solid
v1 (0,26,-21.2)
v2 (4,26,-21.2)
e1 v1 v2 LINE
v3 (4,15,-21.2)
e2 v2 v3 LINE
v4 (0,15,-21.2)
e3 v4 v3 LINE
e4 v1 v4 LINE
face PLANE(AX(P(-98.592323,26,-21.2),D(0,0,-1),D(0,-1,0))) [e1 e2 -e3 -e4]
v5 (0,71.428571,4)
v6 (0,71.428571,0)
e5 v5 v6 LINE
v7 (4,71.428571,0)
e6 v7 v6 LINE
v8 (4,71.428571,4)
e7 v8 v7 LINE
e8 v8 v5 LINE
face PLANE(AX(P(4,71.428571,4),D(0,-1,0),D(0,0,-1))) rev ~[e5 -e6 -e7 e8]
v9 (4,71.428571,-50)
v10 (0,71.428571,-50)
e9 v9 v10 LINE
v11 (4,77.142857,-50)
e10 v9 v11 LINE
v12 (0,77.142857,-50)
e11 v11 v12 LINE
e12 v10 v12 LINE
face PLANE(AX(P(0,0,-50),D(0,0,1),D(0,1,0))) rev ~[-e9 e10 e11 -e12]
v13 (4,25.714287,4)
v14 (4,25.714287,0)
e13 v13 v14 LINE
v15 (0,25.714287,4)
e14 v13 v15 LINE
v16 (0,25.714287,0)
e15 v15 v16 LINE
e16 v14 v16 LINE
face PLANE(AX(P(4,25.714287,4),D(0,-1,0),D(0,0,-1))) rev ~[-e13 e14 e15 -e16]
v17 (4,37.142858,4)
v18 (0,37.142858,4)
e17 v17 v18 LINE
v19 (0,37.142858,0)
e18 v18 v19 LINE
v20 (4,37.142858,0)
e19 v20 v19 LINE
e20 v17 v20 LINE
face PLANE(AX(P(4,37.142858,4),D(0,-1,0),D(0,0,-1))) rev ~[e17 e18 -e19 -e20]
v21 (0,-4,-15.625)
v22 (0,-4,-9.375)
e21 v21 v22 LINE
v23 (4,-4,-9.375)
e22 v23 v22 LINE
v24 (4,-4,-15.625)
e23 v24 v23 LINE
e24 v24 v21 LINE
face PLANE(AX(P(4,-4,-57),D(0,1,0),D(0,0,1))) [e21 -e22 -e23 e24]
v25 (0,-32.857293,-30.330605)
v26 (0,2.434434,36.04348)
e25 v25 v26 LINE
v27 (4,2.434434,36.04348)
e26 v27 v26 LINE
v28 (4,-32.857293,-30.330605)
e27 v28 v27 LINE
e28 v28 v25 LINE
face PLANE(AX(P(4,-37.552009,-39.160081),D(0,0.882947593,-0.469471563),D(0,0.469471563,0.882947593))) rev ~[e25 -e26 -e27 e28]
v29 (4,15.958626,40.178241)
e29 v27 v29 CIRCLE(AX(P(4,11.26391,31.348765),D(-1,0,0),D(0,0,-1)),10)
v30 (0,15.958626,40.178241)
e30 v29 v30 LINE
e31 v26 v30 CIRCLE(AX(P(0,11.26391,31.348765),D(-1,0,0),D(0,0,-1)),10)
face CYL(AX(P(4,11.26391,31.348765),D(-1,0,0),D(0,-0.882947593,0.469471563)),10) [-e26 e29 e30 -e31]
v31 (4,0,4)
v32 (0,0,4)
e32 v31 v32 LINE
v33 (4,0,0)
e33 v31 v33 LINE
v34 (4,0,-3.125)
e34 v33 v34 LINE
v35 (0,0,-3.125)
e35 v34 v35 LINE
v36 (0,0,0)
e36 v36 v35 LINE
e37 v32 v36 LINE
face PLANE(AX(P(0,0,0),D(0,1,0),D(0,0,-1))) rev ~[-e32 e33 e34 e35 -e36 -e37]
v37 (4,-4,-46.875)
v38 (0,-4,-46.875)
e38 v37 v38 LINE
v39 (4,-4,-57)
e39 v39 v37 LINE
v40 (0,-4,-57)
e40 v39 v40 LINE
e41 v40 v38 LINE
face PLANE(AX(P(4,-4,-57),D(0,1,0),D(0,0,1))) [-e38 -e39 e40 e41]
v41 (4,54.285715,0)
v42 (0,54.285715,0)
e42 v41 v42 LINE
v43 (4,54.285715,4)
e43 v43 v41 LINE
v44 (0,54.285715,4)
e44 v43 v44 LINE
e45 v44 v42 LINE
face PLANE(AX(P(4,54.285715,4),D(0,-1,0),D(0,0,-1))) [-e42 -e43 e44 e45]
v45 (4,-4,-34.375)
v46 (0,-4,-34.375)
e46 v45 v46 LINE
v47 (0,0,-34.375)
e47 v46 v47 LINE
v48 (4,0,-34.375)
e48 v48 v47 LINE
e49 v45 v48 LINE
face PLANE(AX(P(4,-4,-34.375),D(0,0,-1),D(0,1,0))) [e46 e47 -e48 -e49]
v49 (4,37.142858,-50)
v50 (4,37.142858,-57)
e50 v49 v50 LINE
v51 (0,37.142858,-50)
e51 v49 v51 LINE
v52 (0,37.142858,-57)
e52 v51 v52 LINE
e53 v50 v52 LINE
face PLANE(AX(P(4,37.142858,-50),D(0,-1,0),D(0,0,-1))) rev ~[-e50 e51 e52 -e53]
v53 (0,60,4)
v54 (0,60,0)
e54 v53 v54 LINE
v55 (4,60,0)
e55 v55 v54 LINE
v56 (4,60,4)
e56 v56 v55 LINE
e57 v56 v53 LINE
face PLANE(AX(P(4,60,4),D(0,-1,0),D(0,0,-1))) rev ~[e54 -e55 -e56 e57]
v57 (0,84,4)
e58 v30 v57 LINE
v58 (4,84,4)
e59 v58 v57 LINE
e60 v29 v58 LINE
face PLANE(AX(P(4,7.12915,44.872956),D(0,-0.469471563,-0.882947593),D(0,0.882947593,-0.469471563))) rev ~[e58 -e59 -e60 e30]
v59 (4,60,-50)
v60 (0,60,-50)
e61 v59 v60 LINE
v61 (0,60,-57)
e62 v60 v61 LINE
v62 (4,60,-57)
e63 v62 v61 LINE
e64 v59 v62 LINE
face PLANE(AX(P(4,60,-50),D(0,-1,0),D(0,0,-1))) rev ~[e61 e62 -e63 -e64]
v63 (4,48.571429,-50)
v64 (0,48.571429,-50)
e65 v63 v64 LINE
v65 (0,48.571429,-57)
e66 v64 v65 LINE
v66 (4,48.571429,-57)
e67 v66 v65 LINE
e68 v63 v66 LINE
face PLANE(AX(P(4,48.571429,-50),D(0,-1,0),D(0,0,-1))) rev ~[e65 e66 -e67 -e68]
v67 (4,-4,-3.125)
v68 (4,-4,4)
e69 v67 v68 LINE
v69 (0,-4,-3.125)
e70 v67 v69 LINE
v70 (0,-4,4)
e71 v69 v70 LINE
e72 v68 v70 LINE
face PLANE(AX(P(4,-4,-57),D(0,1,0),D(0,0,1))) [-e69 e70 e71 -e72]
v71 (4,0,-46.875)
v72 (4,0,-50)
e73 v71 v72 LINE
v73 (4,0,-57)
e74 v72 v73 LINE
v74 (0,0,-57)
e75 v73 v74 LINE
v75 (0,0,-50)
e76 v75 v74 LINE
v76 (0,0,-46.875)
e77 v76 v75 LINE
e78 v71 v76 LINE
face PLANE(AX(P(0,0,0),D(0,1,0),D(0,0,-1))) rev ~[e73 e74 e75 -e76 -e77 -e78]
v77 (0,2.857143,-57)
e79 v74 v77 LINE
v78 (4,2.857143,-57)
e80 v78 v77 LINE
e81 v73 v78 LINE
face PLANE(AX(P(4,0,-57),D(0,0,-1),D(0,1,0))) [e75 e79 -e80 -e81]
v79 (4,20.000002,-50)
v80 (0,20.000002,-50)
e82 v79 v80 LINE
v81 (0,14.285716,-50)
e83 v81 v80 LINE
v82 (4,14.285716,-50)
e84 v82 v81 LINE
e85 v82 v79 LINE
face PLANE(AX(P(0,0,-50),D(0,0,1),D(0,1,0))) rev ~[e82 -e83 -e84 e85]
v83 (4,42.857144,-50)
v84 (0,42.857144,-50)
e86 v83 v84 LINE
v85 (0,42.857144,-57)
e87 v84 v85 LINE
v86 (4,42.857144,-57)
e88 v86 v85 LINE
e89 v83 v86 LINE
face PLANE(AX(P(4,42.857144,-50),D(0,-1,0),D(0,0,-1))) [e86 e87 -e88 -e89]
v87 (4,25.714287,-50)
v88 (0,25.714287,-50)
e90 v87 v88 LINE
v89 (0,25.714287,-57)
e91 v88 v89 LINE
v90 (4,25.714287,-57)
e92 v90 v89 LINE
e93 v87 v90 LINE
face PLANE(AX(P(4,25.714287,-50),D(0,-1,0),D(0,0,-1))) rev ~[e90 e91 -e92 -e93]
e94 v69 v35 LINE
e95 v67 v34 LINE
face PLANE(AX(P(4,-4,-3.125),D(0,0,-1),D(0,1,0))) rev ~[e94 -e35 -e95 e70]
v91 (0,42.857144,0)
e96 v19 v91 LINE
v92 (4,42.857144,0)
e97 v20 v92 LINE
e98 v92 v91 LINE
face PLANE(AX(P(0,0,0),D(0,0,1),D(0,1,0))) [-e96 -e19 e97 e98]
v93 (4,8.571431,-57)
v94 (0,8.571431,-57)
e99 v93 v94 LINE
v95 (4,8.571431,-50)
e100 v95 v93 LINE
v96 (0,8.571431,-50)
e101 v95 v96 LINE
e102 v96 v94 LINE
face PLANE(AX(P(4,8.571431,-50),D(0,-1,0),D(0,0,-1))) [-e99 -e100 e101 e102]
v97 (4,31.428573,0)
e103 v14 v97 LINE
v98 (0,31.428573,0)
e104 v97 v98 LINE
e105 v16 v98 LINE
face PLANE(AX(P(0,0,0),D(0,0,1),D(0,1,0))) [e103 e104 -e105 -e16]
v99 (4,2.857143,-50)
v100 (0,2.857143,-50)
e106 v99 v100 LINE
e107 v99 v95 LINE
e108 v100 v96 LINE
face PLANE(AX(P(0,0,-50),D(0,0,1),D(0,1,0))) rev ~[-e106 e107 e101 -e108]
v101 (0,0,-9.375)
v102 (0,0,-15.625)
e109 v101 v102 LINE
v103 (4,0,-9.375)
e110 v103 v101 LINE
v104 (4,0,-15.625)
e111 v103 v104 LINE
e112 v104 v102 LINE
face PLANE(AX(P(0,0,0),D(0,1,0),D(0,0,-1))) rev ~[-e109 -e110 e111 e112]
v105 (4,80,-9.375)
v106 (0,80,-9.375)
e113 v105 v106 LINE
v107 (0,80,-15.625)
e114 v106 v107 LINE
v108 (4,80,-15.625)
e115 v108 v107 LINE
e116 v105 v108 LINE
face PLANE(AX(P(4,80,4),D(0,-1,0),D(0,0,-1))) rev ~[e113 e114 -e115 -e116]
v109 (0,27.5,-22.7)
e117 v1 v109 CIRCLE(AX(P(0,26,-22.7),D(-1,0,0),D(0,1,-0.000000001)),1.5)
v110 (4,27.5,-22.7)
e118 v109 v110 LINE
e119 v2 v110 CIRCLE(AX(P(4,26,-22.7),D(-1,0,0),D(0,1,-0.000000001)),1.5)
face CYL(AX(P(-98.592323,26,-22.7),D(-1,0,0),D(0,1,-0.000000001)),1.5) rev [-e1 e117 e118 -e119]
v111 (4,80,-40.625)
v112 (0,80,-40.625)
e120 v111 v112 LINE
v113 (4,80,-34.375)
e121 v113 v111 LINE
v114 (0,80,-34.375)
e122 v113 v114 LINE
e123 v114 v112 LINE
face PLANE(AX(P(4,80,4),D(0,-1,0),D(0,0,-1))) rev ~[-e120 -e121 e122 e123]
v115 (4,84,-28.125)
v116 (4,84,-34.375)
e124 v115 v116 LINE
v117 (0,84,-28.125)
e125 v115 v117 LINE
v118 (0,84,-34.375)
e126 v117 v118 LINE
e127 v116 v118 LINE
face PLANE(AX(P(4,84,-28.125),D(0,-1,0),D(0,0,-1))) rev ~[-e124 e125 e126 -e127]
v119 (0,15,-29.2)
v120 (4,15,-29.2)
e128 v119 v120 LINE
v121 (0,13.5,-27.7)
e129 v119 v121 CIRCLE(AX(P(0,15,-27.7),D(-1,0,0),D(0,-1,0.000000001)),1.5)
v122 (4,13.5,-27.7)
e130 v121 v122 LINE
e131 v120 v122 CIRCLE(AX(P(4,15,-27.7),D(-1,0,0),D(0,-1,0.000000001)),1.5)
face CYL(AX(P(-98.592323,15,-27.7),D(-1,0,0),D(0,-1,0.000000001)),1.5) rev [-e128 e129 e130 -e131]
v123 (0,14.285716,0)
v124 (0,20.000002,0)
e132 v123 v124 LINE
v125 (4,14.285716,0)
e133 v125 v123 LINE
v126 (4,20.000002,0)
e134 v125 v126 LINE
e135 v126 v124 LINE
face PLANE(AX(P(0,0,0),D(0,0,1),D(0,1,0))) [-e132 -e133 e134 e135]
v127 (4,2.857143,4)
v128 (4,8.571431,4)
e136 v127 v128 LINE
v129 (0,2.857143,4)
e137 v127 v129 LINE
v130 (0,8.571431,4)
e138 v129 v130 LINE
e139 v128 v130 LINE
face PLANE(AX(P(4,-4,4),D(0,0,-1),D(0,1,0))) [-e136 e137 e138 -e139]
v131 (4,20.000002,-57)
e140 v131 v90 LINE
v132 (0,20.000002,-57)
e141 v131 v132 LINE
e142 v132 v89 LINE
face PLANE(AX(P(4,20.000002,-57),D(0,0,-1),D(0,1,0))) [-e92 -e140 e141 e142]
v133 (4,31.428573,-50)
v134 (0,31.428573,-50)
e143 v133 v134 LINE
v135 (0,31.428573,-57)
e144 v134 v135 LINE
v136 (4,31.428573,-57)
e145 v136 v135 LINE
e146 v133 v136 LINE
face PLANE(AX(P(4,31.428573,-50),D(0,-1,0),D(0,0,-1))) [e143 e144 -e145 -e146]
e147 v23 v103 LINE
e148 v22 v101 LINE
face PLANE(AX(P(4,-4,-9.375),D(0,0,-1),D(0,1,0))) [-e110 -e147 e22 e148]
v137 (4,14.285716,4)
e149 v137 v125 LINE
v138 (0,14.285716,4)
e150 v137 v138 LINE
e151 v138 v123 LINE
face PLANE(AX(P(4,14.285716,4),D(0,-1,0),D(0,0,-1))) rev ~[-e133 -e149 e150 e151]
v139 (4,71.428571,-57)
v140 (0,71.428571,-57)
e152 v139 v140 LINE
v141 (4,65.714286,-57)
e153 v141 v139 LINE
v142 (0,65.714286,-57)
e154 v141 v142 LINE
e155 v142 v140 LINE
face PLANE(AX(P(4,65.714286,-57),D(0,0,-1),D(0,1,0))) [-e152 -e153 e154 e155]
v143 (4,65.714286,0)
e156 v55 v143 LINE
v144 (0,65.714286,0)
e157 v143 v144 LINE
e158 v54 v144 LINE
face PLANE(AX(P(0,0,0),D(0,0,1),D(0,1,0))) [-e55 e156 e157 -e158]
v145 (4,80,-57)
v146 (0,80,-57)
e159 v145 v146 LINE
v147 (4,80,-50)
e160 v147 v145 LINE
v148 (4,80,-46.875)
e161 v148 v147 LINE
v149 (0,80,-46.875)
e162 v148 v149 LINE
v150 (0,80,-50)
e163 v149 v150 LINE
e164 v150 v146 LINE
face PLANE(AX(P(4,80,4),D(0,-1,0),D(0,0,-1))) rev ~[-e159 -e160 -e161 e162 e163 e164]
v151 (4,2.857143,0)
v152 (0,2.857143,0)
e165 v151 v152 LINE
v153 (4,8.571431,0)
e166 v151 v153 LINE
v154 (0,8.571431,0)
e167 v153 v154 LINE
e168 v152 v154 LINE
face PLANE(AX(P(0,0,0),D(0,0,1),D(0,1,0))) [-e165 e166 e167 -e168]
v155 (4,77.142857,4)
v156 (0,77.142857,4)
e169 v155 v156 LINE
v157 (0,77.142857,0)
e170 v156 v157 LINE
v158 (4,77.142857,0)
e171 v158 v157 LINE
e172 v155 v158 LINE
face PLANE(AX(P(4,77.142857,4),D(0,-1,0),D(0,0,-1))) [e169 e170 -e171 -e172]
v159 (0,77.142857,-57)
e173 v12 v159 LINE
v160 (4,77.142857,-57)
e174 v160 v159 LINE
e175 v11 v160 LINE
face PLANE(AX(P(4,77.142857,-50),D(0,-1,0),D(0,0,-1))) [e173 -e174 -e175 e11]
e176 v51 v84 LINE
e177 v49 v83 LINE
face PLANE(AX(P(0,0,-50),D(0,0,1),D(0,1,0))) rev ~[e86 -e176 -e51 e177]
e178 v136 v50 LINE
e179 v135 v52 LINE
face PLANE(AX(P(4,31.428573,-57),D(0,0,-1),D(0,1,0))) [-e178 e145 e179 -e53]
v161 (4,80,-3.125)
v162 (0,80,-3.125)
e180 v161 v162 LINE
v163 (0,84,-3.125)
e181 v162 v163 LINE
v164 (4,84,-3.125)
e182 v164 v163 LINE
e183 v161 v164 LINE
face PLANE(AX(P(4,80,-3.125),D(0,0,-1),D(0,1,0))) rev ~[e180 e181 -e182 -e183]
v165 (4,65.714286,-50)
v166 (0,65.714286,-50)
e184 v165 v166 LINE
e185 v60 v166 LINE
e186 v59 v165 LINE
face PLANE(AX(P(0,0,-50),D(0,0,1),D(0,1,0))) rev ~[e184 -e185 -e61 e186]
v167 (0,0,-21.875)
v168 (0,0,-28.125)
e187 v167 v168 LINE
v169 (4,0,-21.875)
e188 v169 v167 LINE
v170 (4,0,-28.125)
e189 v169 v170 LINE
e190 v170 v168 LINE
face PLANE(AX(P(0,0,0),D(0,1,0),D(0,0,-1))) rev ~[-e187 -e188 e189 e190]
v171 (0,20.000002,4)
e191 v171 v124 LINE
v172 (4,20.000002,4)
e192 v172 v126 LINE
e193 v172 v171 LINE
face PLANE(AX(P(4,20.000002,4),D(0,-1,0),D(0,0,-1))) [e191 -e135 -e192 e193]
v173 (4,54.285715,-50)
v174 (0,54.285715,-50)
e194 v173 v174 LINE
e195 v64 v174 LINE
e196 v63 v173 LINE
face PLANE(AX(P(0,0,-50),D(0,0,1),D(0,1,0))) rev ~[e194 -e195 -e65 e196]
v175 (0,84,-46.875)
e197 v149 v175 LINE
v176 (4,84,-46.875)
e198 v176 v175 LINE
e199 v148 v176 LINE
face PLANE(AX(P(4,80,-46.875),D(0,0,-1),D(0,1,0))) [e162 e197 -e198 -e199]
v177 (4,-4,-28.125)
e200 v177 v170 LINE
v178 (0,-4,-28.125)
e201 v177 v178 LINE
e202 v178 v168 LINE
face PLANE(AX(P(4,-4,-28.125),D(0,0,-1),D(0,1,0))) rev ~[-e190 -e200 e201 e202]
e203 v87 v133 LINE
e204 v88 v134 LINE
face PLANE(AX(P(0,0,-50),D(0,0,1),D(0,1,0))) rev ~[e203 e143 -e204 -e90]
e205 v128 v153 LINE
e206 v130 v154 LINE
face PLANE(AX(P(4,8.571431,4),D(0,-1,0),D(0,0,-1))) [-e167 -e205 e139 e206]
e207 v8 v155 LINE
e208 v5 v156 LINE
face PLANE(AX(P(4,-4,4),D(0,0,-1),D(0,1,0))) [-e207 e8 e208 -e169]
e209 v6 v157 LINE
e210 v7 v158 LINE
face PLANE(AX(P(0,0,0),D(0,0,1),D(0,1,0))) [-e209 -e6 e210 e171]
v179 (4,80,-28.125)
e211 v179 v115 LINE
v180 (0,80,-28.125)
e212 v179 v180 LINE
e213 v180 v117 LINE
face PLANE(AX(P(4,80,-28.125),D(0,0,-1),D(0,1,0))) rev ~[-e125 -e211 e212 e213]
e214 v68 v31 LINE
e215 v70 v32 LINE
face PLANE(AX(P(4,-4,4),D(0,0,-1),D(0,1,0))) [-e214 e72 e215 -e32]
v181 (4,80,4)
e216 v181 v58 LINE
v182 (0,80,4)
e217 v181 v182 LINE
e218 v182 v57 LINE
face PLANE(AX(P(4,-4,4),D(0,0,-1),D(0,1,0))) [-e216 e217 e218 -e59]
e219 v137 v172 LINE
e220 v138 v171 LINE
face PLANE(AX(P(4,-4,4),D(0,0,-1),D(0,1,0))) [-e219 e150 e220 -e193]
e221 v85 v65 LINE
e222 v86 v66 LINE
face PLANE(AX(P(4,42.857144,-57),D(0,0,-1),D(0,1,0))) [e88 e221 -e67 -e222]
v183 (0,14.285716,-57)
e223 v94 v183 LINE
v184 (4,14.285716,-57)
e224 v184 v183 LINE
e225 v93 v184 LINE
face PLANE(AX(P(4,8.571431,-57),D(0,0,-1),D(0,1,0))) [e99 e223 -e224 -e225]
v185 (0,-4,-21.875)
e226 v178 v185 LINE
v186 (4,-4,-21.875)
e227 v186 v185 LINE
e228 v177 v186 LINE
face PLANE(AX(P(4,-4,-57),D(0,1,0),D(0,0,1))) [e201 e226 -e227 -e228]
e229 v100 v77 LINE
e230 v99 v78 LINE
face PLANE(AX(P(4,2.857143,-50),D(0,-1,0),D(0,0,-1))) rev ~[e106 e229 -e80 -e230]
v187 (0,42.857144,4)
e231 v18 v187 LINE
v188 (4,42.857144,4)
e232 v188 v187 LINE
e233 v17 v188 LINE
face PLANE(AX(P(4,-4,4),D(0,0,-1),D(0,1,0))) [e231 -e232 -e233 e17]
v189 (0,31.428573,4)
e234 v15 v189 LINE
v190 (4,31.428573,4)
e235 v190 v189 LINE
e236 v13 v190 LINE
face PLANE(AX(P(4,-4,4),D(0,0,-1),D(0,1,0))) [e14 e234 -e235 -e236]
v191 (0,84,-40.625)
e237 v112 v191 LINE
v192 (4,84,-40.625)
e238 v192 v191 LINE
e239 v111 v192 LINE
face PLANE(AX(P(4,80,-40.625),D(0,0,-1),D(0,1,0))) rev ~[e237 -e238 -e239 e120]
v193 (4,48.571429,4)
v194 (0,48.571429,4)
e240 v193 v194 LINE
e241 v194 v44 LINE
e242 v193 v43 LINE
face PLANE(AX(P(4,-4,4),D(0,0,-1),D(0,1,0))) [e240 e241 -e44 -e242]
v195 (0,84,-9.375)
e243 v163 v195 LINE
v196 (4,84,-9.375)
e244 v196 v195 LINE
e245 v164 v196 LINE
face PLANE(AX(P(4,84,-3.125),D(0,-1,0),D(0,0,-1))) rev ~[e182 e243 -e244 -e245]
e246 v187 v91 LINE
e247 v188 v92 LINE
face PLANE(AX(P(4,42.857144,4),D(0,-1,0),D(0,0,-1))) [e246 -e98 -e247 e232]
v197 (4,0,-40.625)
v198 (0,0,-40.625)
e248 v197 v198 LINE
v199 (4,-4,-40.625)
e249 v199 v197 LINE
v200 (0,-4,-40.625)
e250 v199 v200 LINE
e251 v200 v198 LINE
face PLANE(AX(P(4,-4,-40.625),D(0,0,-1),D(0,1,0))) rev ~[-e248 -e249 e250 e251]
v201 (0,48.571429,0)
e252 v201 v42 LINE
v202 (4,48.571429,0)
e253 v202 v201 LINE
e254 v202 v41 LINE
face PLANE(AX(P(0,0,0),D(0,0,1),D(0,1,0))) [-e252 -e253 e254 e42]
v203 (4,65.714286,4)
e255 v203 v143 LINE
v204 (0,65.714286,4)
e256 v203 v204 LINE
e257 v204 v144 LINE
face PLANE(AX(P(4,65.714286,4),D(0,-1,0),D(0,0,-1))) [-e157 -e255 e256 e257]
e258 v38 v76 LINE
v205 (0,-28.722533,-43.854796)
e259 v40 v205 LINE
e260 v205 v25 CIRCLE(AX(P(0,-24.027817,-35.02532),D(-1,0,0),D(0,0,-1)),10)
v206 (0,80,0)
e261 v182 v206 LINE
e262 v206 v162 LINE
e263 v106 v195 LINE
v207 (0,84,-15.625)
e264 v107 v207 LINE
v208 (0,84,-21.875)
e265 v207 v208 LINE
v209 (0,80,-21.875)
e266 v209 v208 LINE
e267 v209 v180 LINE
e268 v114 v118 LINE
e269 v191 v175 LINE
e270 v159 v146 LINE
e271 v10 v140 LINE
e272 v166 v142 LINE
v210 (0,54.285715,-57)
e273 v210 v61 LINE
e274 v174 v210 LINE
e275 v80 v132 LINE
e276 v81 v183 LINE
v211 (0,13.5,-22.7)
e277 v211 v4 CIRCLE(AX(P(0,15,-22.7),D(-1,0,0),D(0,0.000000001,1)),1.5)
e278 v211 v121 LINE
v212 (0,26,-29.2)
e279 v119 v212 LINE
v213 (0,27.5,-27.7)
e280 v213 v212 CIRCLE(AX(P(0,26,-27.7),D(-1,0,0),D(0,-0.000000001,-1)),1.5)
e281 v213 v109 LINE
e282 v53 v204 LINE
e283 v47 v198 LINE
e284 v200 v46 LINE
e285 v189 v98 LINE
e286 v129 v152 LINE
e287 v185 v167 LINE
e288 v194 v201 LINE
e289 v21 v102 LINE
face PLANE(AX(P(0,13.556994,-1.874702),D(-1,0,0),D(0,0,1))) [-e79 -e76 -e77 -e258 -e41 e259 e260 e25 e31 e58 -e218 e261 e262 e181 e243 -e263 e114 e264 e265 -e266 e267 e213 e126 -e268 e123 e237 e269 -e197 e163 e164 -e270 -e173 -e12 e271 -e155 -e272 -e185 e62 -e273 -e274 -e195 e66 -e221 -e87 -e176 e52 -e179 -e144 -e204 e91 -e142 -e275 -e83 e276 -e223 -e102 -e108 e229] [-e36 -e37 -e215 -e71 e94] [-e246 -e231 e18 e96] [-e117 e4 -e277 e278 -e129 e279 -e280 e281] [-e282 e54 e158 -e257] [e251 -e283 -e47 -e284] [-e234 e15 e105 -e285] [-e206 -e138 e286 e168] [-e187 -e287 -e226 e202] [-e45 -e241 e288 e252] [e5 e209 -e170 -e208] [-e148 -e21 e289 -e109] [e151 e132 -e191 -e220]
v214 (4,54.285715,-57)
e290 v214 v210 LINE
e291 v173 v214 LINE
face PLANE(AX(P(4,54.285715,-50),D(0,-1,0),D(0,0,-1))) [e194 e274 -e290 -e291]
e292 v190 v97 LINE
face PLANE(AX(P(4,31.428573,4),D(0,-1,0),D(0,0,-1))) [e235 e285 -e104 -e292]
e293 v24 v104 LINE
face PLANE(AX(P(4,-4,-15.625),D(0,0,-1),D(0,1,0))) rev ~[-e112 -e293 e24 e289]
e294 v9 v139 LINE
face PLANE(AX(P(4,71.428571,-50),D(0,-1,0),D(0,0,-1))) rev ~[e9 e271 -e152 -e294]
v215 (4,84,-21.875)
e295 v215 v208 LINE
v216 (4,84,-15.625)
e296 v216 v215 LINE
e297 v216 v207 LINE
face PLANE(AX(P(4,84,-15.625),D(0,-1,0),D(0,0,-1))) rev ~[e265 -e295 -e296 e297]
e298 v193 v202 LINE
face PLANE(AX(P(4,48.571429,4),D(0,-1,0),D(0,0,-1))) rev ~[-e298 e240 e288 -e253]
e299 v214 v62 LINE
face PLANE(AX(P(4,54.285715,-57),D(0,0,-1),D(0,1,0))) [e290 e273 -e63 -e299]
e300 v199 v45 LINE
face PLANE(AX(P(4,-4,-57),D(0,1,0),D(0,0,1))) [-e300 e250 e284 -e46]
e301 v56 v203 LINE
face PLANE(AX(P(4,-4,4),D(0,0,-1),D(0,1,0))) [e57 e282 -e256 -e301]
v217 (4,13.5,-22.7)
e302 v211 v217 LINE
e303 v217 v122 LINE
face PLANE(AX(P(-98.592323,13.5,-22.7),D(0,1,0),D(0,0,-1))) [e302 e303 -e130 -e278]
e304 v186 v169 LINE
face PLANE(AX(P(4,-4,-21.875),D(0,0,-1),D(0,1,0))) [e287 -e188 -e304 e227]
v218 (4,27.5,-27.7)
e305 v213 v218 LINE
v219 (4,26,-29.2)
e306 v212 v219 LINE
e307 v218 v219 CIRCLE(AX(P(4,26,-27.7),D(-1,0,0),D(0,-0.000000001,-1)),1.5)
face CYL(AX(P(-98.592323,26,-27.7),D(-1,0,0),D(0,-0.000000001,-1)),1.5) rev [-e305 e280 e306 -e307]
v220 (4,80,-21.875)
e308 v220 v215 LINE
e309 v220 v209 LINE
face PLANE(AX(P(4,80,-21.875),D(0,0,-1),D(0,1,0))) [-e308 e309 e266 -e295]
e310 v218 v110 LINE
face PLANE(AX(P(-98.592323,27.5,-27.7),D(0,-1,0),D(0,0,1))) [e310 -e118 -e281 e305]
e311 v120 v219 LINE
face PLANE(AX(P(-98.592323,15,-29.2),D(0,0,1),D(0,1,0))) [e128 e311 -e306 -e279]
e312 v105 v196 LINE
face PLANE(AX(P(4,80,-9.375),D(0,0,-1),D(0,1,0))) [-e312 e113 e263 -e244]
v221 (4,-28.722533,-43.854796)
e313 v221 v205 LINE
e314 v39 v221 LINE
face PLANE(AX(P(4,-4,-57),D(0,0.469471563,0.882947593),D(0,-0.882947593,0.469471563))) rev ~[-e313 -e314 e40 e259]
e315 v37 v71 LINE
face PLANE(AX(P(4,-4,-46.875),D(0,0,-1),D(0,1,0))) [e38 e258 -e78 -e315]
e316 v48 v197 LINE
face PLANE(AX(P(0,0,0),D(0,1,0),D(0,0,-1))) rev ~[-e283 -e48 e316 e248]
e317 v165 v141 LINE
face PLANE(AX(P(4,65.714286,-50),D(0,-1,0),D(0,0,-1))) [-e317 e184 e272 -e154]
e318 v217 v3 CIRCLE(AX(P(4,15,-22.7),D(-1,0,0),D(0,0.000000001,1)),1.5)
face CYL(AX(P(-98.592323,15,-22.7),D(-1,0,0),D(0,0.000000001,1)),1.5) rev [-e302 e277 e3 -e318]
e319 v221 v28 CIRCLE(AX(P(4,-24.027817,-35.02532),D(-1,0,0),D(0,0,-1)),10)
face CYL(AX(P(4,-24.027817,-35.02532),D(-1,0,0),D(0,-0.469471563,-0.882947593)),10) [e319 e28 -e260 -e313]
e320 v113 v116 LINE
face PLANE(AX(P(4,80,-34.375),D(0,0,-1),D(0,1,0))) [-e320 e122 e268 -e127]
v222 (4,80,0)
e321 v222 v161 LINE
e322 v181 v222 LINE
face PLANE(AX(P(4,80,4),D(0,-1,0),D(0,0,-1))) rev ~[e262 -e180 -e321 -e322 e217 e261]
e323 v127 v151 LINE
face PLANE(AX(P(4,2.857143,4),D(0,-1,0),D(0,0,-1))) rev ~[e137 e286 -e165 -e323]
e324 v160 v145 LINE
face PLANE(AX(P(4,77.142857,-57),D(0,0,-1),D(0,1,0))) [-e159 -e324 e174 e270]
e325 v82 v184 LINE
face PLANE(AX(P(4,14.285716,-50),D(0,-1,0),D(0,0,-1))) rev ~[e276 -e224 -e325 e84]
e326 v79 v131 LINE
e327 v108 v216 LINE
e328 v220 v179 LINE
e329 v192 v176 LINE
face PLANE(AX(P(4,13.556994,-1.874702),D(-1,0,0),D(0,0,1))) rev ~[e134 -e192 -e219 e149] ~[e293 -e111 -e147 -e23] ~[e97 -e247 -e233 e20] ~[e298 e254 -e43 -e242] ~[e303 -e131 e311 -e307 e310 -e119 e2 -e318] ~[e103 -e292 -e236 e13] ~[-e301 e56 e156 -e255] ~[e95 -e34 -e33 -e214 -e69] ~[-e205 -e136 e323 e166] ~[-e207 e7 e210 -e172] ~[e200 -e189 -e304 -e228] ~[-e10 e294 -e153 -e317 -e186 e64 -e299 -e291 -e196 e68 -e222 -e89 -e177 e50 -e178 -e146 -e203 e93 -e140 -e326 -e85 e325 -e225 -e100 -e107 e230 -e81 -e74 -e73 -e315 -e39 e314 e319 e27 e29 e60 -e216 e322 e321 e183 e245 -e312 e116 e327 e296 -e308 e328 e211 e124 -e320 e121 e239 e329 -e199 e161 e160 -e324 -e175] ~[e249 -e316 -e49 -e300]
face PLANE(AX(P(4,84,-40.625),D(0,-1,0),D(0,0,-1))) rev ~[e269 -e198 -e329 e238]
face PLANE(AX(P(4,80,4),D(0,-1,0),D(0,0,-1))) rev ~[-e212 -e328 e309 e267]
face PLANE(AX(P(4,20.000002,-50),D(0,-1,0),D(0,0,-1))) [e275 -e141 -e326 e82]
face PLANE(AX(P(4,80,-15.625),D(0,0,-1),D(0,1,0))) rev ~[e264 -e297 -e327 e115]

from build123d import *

# Parameters (mm, degrees)
SCHIZZO1_W                    = 50
SCHIZZO1_H                    = 80
ESTRUSIONE_ESTRUSIONE1_DEPTH  = 4
SCHIZZO2_W                    = 4
SCHIZZO2_H                    = 2.857142857
SCHIZZO2_W_2                  = 7
ESTRUSIONE_ESTRUSIONE2_DEPTH  = 4
SCHIZZO3_W                    = 4
SCHIZZO3_H                    = 5.714285715
SCHIZZO3_W_2                  = 7
ESTRUSIONE_ESTRUSIONE3_DEPTH  = 4
RIPETIZIONE_A_L1_COUNT        = 6
RIPETIZIONE_A_L1_PITCH        = 11.428571
SCHIZZO4_W                    = 6.25
SCHIZZO4_H                    = 4
ESTRUSIONE_ESTRUSIONE4_DEPTH  = 4
RIPETIZIONE_A_L2_COUNT        = 4
RIPETIZIONE_A_L2_PITCH        = 12.5
ESTRUSIONE_ESTRUSIONE5_DEPTH  = 4
RACCORDO1_R                   = 10
TAGLIO_ESTRUSIONE1_DEPTH      = 102.592322545
TAGLIO_ESTRUSIONE1_DEPTH_BACK = 102.592322545


with BuildPart() as part:
    # Schizzo1 → Estrusione-Estrusione1 (new body)
    with BuildSketch(Plane(origin=(0, 0, 0), x_dir=(0, 0, -1), z_dir=(1, 0, 0))):
        with Locations((25, 40)):
            Rectangle(SCHIZZO1_W, SCHIZZO1_H)
    extrude(amount=ESTRUSIONE_ESTRUSIONE1_DEPTH)

    # Schizzo2 → Estrusione-Estrusione2 (add)
    with BuildSketch(Plane(origin=(4, 0, 0), x_dir=(0, 0, -1), z_dir=(1, 0, 0))):
        with Locations((-2, 78.571428572)):
            Rectangle(SCHIZZO2_W, SCHIZZO2_H)
        with Locations((53.5, 78.571428572)):
            Rectangle(SCHIZZO2_W_2, SCHIZZO2_H)
        with Locations((53.5, 1.428571429)):
            Rectangle(SCHIZZO2_W_2, SCHIZZO2_H)
        with Locations((-2, 1.428571429)):
            Rectangle(SCHIZZO2_W, SCHIZZO2_H)
    extrude(amount=-ESTRUSIONE_ESTRUSIONE2_DEPTH)

    # Schizzo3 → Estrusione-Estrusione3 (add)
    with BuildSketch(Plane(origin=(4, 0, 0), x_dir=(0, 0, -1), z_dir=(1, 0, 0))):
        with Locations((-2, 68.571428572)):
            Rectangle(SCHIZZO3_W, SCHIZZO3_H)
        with Locations((53.5, 68.571428572)):
            Rectangle(SCHIZZO3_W_2, SCHIZZO3_H)
    estrusione_estrusione3 = extrude(amount=-ESTRUSIONE_ESTRUSIONE3_DEPTH)

    # Ripetizione a L1: Estrusione-Estrusione3 ×6
    with Locations(*[(0, -i * RIPETIZIONE_A_L1_PITCH, 0) for i in range(1, RIPETIZIONE_A_L1_COUNT)]):
        add(estrusione_estrusione3)

    # Schizzo4 → Estrusione-Estrusione4 (add)
    with BuildSketch(Plane(origin=(4, 0, 0), x_dir=(0, 0, -1), z_dir=(1, 0, 0))):
        with Locations((6.25, 82)):
            Rectangle(SCHIZZO4_W, SCHIZZO4_H)
        with Locations((6.25, -2)):
            Rectangle(SCHIZZO4_W, SCHIZZO4_H)
    estrusione_estrusione4 = extrude(amount=-ESTRUSIONE_ESTRUSIONE4_DEPTH)

    # Ripetizione a L2: Estrusione-Estrusione4 ×4
    with Locations(*[(0, 0, -i * RIPETIZIONE_A_L2_PITCH) for i in range(1, RIPETIZIONE_A_L2_COUNT)]):
        add(estrusione_estrusione4)

    # Schizzo5 → Estrusione-Estrusione5 (add)
    with BuildSketch(Plane(origin=(4, 0, 0), x_dir=(0, 0, -1), z_dir=(1, 0, 0))):
        Polygon((46.875, -4), (57, -4), (39.160080614, -37.552008529), (-44.872956134, 7.129149682), (-4, 84), (-4, 80), (-4, -4), align=None)
    extrude(amount=-ESTRUSIONE_ESTRUSIONE5_DEPTH)

    # Raccordo1
    raccordo1_edges = [part.edges().sort_by_distance(p)[0] for p in [
        (2, -37.552008529, -39.160080614),
        (2, 7.129149682, 44.872956134),
    ]]
    fillet(raccordo1_edges, radius=RACCORDO1_R)

    # Schizzo6 → Taglio-Estrusione1 (cut, two sides: drawn at the far end of the back side and taken through both)
    with BuildSketch(Plane(origin=(4, 0, 0), x_dir=(0, 0, -1), z_dir=(1, 0, 0)).offset(-TAGLIO_ESTRUSIONE1_DEPTH_BACK)):
        with BuildLine():
            Line((21.2, 26), (21.2, 15))
            ThreePointArc((21.2, 15), (21.639339828, 13.939339828), (22.7, 13.5))
            Line((22.7, 13.5), (27.7, 13.5))
            ThreePointArc((27.7, 13.5), (28.760660172, 13.939339828), (29.2, 15))
            Line((29.2, 15), (29.2, 26))
            ThreePointArc((29.2, 26), (28.760660172, 27.060660172), (27.7, 27.5))
            Line((27.7, 27.5), (22.7, 27.5))
            ThreePointArc((22.7, 27.5), (21.639339828, 27.060660172), (21.2, 26))
        make_face()
    extrude(amount=TAGLIO_ESTRUSIONE1_DEPTH + TAGLIO_ESTRUSIONE1_DEPTH_BACK, mode=Mode.SUBTRACT)


solid = part.part
